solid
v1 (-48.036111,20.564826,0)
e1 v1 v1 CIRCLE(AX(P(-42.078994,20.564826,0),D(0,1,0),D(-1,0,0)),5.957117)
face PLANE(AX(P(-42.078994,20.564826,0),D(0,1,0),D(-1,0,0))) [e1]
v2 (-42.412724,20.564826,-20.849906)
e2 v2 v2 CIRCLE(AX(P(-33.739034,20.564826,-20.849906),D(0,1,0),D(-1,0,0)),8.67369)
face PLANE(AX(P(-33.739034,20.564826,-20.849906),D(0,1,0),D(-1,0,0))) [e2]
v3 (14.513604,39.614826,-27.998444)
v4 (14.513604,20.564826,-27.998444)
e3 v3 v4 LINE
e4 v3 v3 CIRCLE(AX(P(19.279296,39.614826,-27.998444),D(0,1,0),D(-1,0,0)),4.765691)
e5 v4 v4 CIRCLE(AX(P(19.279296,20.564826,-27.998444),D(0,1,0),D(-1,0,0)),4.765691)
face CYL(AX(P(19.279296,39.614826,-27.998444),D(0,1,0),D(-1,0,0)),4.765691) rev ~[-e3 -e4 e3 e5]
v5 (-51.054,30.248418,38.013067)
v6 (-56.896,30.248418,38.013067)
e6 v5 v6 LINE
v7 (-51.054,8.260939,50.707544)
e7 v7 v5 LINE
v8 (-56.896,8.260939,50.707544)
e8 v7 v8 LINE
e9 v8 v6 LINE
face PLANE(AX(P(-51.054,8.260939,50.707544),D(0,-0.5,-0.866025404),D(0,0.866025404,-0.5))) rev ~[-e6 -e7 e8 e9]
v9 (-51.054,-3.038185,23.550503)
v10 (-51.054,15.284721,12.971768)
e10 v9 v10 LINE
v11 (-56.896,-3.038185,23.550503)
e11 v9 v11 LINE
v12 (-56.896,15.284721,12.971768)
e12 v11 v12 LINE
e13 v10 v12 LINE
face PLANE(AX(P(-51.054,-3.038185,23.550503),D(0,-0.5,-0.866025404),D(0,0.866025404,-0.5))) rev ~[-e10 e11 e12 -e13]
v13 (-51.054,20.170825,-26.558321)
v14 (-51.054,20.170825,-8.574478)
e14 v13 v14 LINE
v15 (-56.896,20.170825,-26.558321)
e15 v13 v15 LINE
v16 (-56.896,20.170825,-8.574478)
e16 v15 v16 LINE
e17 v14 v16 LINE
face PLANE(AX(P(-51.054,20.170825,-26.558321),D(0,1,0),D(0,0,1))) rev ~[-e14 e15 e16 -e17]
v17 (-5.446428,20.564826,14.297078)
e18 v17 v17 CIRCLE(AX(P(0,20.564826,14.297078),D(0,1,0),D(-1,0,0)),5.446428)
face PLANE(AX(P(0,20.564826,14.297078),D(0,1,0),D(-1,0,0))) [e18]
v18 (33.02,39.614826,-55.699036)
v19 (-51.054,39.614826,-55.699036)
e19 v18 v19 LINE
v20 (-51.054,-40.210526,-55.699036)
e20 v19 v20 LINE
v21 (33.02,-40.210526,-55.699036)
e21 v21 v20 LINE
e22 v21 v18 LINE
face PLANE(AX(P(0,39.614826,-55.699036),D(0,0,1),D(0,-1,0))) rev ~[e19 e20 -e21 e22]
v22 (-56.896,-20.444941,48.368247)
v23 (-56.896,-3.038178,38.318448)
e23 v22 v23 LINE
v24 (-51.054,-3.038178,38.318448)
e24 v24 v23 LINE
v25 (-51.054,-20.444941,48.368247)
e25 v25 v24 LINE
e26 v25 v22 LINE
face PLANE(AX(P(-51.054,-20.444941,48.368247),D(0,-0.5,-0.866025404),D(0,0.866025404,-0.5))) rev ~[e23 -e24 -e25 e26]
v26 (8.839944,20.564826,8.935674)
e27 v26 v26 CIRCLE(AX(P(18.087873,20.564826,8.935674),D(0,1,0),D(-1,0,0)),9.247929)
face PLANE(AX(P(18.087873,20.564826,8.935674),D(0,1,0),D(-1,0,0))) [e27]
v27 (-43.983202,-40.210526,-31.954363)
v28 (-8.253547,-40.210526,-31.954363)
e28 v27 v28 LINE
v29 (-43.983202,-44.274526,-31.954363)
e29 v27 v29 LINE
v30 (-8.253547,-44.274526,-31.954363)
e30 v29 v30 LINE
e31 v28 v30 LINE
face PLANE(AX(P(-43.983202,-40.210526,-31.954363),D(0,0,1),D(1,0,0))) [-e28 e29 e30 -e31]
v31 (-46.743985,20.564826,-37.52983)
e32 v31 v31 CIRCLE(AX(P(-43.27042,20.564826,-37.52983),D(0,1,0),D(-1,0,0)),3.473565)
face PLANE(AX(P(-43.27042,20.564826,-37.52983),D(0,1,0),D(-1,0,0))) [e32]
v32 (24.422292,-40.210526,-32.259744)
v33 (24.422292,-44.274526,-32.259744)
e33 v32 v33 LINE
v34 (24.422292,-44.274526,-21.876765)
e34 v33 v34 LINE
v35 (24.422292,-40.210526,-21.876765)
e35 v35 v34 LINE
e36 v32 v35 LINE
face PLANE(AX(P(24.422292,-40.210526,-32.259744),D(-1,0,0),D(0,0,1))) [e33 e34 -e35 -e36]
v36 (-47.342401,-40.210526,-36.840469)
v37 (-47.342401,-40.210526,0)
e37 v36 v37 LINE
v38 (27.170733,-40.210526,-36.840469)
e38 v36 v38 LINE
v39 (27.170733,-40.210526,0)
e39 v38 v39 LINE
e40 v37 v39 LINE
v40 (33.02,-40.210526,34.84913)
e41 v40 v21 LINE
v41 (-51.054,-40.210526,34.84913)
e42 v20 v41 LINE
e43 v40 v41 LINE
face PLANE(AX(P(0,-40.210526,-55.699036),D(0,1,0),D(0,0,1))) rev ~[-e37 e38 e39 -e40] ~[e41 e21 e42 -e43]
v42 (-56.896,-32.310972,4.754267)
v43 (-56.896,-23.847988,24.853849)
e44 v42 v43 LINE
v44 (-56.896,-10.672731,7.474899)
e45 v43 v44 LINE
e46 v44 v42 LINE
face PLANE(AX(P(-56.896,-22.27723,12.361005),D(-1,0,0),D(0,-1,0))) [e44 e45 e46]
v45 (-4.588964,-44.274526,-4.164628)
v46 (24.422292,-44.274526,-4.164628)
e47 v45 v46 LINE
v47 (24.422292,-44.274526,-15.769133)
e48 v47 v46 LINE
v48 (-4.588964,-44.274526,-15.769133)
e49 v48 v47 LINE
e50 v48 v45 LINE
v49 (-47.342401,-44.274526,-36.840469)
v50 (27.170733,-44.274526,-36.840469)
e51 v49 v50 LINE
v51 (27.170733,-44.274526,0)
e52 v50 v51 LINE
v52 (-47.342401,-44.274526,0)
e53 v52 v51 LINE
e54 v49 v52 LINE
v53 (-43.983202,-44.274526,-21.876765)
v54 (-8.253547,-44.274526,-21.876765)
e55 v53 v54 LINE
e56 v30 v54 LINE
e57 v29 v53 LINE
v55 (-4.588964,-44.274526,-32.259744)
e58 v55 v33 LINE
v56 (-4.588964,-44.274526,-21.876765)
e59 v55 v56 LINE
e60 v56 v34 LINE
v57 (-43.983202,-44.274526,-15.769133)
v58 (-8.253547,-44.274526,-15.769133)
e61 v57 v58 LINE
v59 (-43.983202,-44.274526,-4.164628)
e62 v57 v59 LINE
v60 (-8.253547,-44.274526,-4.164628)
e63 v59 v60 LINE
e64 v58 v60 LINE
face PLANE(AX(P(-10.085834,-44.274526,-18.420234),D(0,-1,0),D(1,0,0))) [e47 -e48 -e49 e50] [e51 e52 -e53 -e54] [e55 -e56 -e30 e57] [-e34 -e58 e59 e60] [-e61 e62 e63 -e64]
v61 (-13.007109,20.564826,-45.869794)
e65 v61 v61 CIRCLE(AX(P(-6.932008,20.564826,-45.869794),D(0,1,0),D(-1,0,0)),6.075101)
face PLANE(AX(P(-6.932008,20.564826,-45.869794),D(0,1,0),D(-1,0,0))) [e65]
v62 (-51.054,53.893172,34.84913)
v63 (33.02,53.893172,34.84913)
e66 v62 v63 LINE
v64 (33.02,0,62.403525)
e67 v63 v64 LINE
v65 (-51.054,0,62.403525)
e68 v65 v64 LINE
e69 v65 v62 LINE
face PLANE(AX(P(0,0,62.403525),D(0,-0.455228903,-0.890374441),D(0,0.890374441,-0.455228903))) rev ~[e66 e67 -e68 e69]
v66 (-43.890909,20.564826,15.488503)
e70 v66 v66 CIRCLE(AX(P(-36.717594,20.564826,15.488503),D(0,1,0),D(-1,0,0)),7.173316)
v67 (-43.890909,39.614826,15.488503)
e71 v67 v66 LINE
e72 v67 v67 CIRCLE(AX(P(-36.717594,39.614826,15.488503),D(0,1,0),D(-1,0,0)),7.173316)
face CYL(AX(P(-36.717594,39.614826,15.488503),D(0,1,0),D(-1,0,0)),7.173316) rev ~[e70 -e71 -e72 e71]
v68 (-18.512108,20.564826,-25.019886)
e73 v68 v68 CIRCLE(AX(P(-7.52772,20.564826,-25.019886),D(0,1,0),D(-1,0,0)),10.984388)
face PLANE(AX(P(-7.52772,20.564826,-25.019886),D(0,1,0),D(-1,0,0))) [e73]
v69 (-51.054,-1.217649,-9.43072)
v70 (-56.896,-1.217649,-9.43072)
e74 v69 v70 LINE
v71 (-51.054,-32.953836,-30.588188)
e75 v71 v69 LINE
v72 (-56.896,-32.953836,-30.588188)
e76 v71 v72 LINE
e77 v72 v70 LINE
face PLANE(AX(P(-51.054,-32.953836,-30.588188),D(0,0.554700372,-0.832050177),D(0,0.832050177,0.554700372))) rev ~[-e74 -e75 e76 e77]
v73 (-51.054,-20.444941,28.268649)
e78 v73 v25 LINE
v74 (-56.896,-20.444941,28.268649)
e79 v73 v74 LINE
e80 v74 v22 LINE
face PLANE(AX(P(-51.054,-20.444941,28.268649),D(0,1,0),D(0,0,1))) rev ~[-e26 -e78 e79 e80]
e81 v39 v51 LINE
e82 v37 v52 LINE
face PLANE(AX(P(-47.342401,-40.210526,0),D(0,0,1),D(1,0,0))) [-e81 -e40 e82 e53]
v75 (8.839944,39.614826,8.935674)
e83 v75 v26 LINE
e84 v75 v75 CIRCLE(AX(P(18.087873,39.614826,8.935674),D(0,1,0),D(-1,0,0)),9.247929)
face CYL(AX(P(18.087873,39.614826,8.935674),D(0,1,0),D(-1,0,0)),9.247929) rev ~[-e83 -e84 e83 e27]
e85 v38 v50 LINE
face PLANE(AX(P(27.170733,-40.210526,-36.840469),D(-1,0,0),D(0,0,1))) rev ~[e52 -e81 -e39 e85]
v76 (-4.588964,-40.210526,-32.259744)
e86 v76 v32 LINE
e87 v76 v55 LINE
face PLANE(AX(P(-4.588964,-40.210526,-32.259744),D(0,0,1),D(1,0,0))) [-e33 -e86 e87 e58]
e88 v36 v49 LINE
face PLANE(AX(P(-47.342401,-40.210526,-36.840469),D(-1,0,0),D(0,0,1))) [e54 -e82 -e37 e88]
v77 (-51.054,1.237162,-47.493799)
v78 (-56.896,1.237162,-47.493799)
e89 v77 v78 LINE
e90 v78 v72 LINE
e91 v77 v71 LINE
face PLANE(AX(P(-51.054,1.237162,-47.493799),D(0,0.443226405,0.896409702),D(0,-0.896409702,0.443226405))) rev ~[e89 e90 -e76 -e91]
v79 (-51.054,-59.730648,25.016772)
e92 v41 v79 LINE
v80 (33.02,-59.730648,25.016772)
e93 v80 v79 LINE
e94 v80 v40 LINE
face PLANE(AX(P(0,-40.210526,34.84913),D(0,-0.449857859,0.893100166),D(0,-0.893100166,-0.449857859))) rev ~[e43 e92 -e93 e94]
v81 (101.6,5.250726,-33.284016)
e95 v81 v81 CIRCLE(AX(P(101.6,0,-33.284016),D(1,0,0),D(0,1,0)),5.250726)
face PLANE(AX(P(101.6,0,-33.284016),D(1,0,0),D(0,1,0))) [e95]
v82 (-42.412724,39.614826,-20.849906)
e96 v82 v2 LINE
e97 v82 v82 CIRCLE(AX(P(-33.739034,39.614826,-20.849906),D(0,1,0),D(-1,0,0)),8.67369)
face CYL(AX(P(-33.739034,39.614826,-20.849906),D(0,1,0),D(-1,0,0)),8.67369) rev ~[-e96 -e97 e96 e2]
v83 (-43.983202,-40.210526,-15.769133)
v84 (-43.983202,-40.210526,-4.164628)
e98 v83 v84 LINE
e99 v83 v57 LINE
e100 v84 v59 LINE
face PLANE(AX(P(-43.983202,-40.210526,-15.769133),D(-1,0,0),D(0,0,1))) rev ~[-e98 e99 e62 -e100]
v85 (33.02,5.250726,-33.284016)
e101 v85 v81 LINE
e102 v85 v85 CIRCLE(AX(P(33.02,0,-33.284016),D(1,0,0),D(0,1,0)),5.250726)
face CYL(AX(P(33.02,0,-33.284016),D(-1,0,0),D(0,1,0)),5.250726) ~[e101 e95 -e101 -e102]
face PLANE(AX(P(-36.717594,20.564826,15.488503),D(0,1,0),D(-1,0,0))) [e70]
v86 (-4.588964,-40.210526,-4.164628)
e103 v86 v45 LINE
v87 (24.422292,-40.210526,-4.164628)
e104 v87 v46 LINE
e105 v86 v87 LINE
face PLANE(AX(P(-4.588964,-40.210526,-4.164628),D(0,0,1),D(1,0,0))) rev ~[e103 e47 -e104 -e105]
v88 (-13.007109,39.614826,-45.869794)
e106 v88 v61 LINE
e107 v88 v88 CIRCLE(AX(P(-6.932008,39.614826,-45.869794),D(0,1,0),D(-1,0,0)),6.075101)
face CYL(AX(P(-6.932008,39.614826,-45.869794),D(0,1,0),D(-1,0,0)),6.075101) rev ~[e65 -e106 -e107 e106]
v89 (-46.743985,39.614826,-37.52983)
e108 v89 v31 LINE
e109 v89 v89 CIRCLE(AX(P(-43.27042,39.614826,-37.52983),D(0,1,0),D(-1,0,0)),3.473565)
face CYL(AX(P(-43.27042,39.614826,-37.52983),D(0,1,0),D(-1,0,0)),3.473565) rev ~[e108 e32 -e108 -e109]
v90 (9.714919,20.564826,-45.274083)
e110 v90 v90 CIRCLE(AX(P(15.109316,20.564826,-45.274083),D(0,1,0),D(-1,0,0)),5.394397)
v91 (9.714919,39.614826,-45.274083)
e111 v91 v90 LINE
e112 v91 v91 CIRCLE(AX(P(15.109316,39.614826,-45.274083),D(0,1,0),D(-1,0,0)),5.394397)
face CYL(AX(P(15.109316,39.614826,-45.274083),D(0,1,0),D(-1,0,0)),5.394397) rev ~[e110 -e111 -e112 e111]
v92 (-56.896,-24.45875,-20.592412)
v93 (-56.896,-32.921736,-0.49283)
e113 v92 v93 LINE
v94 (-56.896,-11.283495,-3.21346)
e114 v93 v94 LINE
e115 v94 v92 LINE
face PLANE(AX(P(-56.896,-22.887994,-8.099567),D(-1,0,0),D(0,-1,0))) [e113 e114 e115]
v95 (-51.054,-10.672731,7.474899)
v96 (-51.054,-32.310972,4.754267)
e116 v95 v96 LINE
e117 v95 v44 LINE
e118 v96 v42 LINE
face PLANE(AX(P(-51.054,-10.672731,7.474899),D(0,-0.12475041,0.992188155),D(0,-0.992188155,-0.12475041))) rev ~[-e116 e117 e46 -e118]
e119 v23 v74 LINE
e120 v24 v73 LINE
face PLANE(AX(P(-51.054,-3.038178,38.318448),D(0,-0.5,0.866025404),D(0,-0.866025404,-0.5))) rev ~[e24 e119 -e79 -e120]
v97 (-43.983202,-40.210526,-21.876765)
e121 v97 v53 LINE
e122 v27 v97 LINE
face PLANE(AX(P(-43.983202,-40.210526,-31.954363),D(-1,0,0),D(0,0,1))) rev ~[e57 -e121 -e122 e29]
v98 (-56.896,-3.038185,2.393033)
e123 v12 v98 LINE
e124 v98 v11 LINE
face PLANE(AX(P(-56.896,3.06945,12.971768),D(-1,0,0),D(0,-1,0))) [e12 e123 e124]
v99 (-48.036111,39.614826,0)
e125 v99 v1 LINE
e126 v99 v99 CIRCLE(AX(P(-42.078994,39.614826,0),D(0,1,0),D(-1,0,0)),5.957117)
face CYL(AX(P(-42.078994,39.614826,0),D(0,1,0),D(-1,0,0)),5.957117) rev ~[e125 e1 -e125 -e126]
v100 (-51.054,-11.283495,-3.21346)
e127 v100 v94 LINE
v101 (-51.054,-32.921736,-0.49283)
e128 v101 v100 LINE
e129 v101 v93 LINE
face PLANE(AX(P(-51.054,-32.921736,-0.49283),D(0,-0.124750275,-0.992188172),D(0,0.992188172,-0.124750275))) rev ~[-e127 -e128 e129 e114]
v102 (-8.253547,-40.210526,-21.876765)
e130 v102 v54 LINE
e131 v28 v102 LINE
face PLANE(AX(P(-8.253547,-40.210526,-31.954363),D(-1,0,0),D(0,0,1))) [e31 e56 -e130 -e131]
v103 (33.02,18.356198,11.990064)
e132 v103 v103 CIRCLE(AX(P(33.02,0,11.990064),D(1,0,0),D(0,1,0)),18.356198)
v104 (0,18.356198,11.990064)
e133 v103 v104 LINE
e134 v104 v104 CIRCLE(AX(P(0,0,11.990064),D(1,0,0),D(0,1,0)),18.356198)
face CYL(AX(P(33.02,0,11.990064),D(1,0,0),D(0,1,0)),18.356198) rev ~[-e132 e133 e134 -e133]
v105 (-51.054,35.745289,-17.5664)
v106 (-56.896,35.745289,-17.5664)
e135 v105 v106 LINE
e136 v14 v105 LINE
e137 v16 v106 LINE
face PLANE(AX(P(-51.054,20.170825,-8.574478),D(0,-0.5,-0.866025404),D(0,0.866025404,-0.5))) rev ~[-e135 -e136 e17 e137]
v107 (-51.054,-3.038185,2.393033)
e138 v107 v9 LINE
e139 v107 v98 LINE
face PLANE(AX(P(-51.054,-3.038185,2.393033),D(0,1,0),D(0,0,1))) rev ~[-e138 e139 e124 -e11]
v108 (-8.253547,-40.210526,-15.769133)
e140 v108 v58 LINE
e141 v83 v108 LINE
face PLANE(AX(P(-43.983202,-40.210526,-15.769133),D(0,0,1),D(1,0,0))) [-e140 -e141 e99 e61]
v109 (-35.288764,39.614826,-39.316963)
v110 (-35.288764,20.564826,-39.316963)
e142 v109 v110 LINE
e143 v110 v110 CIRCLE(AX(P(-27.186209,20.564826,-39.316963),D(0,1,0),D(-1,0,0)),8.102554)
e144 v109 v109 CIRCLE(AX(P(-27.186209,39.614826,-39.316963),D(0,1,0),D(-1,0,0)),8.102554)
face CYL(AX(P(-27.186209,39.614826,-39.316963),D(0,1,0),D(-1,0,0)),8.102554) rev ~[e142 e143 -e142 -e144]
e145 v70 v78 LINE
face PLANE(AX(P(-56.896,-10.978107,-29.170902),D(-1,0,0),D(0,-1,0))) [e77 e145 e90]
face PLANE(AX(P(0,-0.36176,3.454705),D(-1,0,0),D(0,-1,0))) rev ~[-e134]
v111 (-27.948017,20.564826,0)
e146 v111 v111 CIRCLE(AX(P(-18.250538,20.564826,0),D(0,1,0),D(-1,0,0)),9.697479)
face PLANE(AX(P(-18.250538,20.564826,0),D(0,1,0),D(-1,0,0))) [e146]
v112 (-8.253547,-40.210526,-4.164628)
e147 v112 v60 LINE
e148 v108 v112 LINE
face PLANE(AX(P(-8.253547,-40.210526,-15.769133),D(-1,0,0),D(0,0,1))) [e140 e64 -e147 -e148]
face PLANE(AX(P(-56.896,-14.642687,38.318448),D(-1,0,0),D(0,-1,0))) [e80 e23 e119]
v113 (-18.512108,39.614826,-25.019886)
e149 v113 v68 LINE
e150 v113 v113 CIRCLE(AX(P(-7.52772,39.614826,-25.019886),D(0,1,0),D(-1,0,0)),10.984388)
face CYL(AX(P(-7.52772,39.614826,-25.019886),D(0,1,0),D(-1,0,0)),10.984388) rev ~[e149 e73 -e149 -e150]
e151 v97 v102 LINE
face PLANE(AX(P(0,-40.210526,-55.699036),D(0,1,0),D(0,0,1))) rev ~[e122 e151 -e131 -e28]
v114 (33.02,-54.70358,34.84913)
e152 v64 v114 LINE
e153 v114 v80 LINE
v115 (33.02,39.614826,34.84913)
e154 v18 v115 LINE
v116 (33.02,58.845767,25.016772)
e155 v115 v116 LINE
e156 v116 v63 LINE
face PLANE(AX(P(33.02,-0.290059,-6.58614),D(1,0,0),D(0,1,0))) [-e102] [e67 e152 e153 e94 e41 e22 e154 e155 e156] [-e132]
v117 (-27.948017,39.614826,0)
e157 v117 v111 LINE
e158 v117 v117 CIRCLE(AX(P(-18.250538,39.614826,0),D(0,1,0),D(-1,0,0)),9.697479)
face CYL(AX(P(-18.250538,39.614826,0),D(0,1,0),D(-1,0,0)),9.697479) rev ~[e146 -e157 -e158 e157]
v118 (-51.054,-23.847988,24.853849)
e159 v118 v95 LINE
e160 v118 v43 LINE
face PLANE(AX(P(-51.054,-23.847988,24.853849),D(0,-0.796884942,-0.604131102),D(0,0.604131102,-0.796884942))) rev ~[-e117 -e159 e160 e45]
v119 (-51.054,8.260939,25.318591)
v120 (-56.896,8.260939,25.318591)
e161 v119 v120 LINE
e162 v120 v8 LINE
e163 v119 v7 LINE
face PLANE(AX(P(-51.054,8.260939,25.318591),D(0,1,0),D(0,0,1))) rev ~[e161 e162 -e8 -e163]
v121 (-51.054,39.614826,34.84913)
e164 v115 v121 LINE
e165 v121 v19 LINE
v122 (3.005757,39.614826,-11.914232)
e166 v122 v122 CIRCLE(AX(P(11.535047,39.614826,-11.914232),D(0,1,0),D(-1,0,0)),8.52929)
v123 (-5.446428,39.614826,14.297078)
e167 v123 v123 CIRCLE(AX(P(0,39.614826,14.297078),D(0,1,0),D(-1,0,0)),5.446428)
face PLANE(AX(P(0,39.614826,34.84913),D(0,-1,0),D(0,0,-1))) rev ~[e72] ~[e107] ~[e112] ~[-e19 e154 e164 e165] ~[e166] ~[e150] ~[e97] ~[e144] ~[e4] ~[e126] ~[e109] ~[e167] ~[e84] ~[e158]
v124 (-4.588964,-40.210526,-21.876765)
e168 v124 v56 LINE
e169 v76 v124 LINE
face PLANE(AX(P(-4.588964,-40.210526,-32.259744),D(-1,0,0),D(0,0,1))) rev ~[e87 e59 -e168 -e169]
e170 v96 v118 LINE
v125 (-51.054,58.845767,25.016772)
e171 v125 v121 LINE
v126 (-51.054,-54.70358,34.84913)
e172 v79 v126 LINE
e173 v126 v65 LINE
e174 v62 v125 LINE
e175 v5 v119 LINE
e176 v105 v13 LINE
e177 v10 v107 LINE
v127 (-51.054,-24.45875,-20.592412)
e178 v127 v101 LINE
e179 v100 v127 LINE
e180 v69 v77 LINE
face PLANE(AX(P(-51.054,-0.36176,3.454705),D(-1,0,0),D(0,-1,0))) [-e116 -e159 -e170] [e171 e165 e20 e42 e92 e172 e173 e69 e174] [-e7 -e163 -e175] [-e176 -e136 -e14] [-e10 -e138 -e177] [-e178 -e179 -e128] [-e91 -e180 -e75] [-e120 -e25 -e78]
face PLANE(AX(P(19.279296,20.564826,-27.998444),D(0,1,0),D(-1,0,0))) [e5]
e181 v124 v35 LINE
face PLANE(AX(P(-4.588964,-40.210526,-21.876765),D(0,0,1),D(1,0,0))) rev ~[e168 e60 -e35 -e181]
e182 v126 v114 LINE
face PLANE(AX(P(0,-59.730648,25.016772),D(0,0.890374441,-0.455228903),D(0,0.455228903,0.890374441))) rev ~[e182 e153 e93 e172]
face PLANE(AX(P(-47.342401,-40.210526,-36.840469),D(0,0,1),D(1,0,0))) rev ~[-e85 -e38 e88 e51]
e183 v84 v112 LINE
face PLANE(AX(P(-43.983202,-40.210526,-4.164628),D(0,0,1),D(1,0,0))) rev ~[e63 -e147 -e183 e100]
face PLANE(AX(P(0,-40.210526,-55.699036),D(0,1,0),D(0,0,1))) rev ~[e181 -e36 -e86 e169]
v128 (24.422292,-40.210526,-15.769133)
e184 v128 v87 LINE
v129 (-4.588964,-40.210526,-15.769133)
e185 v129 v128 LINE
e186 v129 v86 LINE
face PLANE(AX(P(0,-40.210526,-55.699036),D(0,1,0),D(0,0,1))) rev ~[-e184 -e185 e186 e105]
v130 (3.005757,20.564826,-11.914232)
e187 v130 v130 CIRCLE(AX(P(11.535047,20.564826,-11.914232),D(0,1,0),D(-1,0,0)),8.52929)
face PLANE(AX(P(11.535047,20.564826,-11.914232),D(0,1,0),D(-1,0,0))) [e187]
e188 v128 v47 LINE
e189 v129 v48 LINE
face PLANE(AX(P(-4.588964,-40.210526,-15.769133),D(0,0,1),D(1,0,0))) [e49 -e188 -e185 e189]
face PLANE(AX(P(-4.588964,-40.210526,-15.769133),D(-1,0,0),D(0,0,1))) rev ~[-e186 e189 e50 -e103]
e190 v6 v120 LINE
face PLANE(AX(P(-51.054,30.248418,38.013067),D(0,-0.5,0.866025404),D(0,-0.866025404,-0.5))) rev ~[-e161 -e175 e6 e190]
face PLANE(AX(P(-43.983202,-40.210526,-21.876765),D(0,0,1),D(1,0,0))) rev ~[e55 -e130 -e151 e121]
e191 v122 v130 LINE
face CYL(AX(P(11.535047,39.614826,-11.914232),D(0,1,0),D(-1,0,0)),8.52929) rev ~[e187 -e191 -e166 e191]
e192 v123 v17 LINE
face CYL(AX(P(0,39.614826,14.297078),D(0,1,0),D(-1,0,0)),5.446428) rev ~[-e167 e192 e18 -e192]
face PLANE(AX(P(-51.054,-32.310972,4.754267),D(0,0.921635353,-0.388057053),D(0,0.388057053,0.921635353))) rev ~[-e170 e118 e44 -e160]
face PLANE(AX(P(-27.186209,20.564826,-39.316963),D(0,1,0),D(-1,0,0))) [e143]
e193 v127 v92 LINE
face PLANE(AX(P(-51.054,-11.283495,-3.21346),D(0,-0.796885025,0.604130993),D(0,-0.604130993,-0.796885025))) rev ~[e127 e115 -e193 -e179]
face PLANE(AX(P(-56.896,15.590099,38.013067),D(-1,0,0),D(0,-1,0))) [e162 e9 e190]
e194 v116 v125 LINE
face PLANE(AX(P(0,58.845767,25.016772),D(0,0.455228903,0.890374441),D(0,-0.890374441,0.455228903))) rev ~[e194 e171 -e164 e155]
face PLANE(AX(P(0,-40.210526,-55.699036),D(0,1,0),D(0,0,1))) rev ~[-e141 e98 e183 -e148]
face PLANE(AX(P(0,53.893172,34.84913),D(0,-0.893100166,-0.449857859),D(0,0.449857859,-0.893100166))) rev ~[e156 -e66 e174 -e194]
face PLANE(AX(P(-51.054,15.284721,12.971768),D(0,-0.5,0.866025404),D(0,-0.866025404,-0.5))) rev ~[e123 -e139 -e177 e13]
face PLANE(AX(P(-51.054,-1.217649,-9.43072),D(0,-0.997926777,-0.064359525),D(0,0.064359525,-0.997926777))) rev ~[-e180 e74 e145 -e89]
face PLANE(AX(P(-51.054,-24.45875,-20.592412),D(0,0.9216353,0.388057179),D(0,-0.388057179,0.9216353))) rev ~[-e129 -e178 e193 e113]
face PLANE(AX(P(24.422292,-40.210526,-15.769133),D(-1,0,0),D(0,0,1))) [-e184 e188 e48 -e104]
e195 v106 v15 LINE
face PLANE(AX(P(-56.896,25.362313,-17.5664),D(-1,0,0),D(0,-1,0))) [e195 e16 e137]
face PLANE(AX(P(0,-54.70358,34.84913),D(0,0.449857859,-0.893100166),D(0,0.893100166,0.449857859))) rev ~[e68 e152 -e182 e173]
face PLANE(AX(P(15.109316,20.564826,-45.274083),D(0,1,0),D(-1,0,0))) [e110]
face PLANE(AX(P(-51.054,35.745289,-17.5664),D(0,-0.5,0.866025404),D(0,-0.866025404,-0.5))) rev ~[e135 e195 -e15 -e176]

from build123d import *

# Parameters (mm, degrees)
F1_DEPTH  = 33.02
F2_R      = 18.3561977424
F3_DEPTH  = 38.1
F4_R      = 5.2507259391
F5_DEPTH  = 68.58
F7_DEPTH  = 51.054
F8_R      = 4.7656912357
F8_R_2    = 10.9843884843
F8_R_3    = 9.697479166
F8_R_4    = 9.2479292762
F8_R_5    = 8.5292895708
F8_R_6    = 7.1733155085
F8_R_7    = 8.6736896771
F8_R_8    = 5.4464276584
F8_R_9    = 8.102554369
F8_R_10   = 5.3943968671
F8_R_11   = 6.0751011196
F8_R_12   = 5.9571165591
F8_R_13   = 3.4735651016
F9_DEPTH  = 19.05
F11_W     = 74.5131336153
F11_H     = 36.8404686451
F11_W_2   = 35.7296550646
F11_H_2   = 10.0775975734
F11_W_3   = 29.0112560615
F11_H_3   = 10.3829782456
F11_H_4   = 11.6045051254
F12_DEPTH = 4.064
F14_DEPTH = 5.842


with BuildPart() as f1:
    # F0 (on Right) → F1 (new body)
    with BuildSketch(Plane.YZ):
        Polygon((0, 55.1033206284), (-40.2105264366, 34.8491296172), (-40.2105264366, -55.6990355253), (39.6148264408, -55.6990355253), (39.6148264408, 34.8491296172), align=None)
        Polygon((-59.7306484823, 25.0167718862), (-40.2105264366, 34.8491296172), (0, 55.1033206284), (39.6148264408, 34.8491296172), (58.8457670794, 25.0167718862), (53.8931720944, 34.8491296172), (0, 62.4035252784), (-54.703579845, 34.8491296172), align=None)
    extrude(amount=F1_DEPTH)

    # F2 (on face) → F3 (cut)
    with BuildSketch(Plane.YZ.offset(33.02)):
        with Locations((0, 11.9900638238)):
            Circle(F2_R)
    extrude(amount=-F3_DEPTH, mode=Mode.SUBTRACT)

    # F4 (on face) → F5 (join)
    with BuildSketch(Plane.YZ.offset(33.02)):
        with Locations((0, -33.2840159535)):
            Circle(F4_R)
    extrude(amount=F5_DEPTH)

    # F6 (on face) → F7 (join)
    with BuildSketch(Plane(origin=(0, 0, 0), x_dir=(0, -1, 0), z_dir=(-1, 0, 0))):
        Polygon((-53.8931720944, 34.8491296172), (-58.8457670794, 25.0167718862), (-39.6148264408, 34.8491296172), (-39.6148264408, -55.6990355253), (40.2105264366, -55.6990355253), (40.2105264366, 34.8491296172), (59.7306484823, 25.0167718862), (54.703579845, 34.8491296172), (0, 62.4035252784), align=None)
    extrude(amount=F7_DEPTH)

    # F8 (on face) → F9 (cut)
    with BuildSketch(Plane(origin=(0, 39.6148264408, 0), x_dir=(-1, 0, 0), z_dir=(0, 1, 0))):
        with Locations((-19.2792955786, -27.9984436929)):
            Circle(F8_R)
        with Locations((7.5277197175, -25.0198859721)):
            Circle(F8_R_2)
        with Locations((18.2505380362, 0)):
            Circle(F8_R_3)
        with Locations((-18.0878732353, 8.9356740937)):
            Circle(F8_R_4)
        with Locations((-11.5350466222, -11.9142318144)):
            Circle(F8_R_5)
        with Locations((36.7175936699, 15.4885025695)):
            Circle(F8_R_6)
        with Locations((33.7390340865, -20.8499059081)):
            Circle(F8_R_7)
        with Locations((0, 14.2970783636)):
            Circle(F8_R_8)
        with Locations((27.1862093359, -39.3169634044)):
            Circle(F8_R_9)
        with Locations((-15.1093155146, -45.2740825713)):
            Circle(F8_R_10)
        with Locations((6.9320080802, -45.8697937429)):
            Circle(F8_R_11)
        with Locations((42.0789942145, 0)):
            Circle(F8_R_12)
        with Locations((43.2704202831, -37.5298298895)):
            Circle(F8_R_13)
    extrude(amount=-F9_DEPTH, mode=Mode.SUBTRACT)

    # F11 (on face) → F12 (join)
    with BuildSketch(Plane.XZ.offset(40.2105264366)):
        with Locations((-10.0858341902, -18.4202343225)):
            Rectangle(F11_W, F11_H)
        with Locations((-26.1183748953, -26.9155642018)):
            Rectangle(F11_W_2, F11_H_2, mode=Mode.SUBTRACT)
        with Locations((9.9166636355, -27.0682545379)):
            Rectangle(F11_W_3, F11_H_3, mode=Mode.SUBTRACT)
        with Locations((-26.1183748953, -9.9668807816)):
            Rectangle(F11_W_2, F11_H_4, mode=Mode.SUBTRACT)
        with Locations((9.9166636355, -9.9668807816)):
            Rectangle(F11_W_3, F11_H_4, mode=Mode.SUBTRACT)
    extrude(amount=F12_DEPTH)

    # F13 (on face) → F14 (join)
    with BuildSketch(Plane(origin=(-51.054, 0, 0), x_dir=(0, -1, 0), z_dir=(-1, 0, 0))):
        Polygon((3.0381854158, 2.3930334493), (3.0381854158, 23.5505028621), (-15.2847205754, 12.9717681557), align=None)
        Polygon((-8.2609392703, 25.3185906107), (-8.2609392703, 50.7075435822), (-30.248417519, 38.0130670965), align=None)
        Polygon((32.9538357962, -30.5881882396), (1.2176486146, -9.4307204399), (-1.2371623889, -47.4937986583), align=None)
        Polygon((32.310971557, 4.7542667825), (23.8479883086, 24.8538487713), (10.672731325, 7.474899292), align=None)
        Polygon((-20.1708246022, -26.5583209633), (-20.1708246022, -8.5744783342), (-35.7452891767, -17.5663996488), align=None)
        Polygon((20.4449407756, 28.2686487088), (20.4449407756, 48.3682468286), (3.038178198, 38.3184477687), align=None)
        Polygon((24.4587499026, -20.5924118991), (32.9217363772, -0.4928299103), (11.2834945321, -3.2134596258), align=None)
    extrude(amount=F14_DEPTH)


solid = f1.part
